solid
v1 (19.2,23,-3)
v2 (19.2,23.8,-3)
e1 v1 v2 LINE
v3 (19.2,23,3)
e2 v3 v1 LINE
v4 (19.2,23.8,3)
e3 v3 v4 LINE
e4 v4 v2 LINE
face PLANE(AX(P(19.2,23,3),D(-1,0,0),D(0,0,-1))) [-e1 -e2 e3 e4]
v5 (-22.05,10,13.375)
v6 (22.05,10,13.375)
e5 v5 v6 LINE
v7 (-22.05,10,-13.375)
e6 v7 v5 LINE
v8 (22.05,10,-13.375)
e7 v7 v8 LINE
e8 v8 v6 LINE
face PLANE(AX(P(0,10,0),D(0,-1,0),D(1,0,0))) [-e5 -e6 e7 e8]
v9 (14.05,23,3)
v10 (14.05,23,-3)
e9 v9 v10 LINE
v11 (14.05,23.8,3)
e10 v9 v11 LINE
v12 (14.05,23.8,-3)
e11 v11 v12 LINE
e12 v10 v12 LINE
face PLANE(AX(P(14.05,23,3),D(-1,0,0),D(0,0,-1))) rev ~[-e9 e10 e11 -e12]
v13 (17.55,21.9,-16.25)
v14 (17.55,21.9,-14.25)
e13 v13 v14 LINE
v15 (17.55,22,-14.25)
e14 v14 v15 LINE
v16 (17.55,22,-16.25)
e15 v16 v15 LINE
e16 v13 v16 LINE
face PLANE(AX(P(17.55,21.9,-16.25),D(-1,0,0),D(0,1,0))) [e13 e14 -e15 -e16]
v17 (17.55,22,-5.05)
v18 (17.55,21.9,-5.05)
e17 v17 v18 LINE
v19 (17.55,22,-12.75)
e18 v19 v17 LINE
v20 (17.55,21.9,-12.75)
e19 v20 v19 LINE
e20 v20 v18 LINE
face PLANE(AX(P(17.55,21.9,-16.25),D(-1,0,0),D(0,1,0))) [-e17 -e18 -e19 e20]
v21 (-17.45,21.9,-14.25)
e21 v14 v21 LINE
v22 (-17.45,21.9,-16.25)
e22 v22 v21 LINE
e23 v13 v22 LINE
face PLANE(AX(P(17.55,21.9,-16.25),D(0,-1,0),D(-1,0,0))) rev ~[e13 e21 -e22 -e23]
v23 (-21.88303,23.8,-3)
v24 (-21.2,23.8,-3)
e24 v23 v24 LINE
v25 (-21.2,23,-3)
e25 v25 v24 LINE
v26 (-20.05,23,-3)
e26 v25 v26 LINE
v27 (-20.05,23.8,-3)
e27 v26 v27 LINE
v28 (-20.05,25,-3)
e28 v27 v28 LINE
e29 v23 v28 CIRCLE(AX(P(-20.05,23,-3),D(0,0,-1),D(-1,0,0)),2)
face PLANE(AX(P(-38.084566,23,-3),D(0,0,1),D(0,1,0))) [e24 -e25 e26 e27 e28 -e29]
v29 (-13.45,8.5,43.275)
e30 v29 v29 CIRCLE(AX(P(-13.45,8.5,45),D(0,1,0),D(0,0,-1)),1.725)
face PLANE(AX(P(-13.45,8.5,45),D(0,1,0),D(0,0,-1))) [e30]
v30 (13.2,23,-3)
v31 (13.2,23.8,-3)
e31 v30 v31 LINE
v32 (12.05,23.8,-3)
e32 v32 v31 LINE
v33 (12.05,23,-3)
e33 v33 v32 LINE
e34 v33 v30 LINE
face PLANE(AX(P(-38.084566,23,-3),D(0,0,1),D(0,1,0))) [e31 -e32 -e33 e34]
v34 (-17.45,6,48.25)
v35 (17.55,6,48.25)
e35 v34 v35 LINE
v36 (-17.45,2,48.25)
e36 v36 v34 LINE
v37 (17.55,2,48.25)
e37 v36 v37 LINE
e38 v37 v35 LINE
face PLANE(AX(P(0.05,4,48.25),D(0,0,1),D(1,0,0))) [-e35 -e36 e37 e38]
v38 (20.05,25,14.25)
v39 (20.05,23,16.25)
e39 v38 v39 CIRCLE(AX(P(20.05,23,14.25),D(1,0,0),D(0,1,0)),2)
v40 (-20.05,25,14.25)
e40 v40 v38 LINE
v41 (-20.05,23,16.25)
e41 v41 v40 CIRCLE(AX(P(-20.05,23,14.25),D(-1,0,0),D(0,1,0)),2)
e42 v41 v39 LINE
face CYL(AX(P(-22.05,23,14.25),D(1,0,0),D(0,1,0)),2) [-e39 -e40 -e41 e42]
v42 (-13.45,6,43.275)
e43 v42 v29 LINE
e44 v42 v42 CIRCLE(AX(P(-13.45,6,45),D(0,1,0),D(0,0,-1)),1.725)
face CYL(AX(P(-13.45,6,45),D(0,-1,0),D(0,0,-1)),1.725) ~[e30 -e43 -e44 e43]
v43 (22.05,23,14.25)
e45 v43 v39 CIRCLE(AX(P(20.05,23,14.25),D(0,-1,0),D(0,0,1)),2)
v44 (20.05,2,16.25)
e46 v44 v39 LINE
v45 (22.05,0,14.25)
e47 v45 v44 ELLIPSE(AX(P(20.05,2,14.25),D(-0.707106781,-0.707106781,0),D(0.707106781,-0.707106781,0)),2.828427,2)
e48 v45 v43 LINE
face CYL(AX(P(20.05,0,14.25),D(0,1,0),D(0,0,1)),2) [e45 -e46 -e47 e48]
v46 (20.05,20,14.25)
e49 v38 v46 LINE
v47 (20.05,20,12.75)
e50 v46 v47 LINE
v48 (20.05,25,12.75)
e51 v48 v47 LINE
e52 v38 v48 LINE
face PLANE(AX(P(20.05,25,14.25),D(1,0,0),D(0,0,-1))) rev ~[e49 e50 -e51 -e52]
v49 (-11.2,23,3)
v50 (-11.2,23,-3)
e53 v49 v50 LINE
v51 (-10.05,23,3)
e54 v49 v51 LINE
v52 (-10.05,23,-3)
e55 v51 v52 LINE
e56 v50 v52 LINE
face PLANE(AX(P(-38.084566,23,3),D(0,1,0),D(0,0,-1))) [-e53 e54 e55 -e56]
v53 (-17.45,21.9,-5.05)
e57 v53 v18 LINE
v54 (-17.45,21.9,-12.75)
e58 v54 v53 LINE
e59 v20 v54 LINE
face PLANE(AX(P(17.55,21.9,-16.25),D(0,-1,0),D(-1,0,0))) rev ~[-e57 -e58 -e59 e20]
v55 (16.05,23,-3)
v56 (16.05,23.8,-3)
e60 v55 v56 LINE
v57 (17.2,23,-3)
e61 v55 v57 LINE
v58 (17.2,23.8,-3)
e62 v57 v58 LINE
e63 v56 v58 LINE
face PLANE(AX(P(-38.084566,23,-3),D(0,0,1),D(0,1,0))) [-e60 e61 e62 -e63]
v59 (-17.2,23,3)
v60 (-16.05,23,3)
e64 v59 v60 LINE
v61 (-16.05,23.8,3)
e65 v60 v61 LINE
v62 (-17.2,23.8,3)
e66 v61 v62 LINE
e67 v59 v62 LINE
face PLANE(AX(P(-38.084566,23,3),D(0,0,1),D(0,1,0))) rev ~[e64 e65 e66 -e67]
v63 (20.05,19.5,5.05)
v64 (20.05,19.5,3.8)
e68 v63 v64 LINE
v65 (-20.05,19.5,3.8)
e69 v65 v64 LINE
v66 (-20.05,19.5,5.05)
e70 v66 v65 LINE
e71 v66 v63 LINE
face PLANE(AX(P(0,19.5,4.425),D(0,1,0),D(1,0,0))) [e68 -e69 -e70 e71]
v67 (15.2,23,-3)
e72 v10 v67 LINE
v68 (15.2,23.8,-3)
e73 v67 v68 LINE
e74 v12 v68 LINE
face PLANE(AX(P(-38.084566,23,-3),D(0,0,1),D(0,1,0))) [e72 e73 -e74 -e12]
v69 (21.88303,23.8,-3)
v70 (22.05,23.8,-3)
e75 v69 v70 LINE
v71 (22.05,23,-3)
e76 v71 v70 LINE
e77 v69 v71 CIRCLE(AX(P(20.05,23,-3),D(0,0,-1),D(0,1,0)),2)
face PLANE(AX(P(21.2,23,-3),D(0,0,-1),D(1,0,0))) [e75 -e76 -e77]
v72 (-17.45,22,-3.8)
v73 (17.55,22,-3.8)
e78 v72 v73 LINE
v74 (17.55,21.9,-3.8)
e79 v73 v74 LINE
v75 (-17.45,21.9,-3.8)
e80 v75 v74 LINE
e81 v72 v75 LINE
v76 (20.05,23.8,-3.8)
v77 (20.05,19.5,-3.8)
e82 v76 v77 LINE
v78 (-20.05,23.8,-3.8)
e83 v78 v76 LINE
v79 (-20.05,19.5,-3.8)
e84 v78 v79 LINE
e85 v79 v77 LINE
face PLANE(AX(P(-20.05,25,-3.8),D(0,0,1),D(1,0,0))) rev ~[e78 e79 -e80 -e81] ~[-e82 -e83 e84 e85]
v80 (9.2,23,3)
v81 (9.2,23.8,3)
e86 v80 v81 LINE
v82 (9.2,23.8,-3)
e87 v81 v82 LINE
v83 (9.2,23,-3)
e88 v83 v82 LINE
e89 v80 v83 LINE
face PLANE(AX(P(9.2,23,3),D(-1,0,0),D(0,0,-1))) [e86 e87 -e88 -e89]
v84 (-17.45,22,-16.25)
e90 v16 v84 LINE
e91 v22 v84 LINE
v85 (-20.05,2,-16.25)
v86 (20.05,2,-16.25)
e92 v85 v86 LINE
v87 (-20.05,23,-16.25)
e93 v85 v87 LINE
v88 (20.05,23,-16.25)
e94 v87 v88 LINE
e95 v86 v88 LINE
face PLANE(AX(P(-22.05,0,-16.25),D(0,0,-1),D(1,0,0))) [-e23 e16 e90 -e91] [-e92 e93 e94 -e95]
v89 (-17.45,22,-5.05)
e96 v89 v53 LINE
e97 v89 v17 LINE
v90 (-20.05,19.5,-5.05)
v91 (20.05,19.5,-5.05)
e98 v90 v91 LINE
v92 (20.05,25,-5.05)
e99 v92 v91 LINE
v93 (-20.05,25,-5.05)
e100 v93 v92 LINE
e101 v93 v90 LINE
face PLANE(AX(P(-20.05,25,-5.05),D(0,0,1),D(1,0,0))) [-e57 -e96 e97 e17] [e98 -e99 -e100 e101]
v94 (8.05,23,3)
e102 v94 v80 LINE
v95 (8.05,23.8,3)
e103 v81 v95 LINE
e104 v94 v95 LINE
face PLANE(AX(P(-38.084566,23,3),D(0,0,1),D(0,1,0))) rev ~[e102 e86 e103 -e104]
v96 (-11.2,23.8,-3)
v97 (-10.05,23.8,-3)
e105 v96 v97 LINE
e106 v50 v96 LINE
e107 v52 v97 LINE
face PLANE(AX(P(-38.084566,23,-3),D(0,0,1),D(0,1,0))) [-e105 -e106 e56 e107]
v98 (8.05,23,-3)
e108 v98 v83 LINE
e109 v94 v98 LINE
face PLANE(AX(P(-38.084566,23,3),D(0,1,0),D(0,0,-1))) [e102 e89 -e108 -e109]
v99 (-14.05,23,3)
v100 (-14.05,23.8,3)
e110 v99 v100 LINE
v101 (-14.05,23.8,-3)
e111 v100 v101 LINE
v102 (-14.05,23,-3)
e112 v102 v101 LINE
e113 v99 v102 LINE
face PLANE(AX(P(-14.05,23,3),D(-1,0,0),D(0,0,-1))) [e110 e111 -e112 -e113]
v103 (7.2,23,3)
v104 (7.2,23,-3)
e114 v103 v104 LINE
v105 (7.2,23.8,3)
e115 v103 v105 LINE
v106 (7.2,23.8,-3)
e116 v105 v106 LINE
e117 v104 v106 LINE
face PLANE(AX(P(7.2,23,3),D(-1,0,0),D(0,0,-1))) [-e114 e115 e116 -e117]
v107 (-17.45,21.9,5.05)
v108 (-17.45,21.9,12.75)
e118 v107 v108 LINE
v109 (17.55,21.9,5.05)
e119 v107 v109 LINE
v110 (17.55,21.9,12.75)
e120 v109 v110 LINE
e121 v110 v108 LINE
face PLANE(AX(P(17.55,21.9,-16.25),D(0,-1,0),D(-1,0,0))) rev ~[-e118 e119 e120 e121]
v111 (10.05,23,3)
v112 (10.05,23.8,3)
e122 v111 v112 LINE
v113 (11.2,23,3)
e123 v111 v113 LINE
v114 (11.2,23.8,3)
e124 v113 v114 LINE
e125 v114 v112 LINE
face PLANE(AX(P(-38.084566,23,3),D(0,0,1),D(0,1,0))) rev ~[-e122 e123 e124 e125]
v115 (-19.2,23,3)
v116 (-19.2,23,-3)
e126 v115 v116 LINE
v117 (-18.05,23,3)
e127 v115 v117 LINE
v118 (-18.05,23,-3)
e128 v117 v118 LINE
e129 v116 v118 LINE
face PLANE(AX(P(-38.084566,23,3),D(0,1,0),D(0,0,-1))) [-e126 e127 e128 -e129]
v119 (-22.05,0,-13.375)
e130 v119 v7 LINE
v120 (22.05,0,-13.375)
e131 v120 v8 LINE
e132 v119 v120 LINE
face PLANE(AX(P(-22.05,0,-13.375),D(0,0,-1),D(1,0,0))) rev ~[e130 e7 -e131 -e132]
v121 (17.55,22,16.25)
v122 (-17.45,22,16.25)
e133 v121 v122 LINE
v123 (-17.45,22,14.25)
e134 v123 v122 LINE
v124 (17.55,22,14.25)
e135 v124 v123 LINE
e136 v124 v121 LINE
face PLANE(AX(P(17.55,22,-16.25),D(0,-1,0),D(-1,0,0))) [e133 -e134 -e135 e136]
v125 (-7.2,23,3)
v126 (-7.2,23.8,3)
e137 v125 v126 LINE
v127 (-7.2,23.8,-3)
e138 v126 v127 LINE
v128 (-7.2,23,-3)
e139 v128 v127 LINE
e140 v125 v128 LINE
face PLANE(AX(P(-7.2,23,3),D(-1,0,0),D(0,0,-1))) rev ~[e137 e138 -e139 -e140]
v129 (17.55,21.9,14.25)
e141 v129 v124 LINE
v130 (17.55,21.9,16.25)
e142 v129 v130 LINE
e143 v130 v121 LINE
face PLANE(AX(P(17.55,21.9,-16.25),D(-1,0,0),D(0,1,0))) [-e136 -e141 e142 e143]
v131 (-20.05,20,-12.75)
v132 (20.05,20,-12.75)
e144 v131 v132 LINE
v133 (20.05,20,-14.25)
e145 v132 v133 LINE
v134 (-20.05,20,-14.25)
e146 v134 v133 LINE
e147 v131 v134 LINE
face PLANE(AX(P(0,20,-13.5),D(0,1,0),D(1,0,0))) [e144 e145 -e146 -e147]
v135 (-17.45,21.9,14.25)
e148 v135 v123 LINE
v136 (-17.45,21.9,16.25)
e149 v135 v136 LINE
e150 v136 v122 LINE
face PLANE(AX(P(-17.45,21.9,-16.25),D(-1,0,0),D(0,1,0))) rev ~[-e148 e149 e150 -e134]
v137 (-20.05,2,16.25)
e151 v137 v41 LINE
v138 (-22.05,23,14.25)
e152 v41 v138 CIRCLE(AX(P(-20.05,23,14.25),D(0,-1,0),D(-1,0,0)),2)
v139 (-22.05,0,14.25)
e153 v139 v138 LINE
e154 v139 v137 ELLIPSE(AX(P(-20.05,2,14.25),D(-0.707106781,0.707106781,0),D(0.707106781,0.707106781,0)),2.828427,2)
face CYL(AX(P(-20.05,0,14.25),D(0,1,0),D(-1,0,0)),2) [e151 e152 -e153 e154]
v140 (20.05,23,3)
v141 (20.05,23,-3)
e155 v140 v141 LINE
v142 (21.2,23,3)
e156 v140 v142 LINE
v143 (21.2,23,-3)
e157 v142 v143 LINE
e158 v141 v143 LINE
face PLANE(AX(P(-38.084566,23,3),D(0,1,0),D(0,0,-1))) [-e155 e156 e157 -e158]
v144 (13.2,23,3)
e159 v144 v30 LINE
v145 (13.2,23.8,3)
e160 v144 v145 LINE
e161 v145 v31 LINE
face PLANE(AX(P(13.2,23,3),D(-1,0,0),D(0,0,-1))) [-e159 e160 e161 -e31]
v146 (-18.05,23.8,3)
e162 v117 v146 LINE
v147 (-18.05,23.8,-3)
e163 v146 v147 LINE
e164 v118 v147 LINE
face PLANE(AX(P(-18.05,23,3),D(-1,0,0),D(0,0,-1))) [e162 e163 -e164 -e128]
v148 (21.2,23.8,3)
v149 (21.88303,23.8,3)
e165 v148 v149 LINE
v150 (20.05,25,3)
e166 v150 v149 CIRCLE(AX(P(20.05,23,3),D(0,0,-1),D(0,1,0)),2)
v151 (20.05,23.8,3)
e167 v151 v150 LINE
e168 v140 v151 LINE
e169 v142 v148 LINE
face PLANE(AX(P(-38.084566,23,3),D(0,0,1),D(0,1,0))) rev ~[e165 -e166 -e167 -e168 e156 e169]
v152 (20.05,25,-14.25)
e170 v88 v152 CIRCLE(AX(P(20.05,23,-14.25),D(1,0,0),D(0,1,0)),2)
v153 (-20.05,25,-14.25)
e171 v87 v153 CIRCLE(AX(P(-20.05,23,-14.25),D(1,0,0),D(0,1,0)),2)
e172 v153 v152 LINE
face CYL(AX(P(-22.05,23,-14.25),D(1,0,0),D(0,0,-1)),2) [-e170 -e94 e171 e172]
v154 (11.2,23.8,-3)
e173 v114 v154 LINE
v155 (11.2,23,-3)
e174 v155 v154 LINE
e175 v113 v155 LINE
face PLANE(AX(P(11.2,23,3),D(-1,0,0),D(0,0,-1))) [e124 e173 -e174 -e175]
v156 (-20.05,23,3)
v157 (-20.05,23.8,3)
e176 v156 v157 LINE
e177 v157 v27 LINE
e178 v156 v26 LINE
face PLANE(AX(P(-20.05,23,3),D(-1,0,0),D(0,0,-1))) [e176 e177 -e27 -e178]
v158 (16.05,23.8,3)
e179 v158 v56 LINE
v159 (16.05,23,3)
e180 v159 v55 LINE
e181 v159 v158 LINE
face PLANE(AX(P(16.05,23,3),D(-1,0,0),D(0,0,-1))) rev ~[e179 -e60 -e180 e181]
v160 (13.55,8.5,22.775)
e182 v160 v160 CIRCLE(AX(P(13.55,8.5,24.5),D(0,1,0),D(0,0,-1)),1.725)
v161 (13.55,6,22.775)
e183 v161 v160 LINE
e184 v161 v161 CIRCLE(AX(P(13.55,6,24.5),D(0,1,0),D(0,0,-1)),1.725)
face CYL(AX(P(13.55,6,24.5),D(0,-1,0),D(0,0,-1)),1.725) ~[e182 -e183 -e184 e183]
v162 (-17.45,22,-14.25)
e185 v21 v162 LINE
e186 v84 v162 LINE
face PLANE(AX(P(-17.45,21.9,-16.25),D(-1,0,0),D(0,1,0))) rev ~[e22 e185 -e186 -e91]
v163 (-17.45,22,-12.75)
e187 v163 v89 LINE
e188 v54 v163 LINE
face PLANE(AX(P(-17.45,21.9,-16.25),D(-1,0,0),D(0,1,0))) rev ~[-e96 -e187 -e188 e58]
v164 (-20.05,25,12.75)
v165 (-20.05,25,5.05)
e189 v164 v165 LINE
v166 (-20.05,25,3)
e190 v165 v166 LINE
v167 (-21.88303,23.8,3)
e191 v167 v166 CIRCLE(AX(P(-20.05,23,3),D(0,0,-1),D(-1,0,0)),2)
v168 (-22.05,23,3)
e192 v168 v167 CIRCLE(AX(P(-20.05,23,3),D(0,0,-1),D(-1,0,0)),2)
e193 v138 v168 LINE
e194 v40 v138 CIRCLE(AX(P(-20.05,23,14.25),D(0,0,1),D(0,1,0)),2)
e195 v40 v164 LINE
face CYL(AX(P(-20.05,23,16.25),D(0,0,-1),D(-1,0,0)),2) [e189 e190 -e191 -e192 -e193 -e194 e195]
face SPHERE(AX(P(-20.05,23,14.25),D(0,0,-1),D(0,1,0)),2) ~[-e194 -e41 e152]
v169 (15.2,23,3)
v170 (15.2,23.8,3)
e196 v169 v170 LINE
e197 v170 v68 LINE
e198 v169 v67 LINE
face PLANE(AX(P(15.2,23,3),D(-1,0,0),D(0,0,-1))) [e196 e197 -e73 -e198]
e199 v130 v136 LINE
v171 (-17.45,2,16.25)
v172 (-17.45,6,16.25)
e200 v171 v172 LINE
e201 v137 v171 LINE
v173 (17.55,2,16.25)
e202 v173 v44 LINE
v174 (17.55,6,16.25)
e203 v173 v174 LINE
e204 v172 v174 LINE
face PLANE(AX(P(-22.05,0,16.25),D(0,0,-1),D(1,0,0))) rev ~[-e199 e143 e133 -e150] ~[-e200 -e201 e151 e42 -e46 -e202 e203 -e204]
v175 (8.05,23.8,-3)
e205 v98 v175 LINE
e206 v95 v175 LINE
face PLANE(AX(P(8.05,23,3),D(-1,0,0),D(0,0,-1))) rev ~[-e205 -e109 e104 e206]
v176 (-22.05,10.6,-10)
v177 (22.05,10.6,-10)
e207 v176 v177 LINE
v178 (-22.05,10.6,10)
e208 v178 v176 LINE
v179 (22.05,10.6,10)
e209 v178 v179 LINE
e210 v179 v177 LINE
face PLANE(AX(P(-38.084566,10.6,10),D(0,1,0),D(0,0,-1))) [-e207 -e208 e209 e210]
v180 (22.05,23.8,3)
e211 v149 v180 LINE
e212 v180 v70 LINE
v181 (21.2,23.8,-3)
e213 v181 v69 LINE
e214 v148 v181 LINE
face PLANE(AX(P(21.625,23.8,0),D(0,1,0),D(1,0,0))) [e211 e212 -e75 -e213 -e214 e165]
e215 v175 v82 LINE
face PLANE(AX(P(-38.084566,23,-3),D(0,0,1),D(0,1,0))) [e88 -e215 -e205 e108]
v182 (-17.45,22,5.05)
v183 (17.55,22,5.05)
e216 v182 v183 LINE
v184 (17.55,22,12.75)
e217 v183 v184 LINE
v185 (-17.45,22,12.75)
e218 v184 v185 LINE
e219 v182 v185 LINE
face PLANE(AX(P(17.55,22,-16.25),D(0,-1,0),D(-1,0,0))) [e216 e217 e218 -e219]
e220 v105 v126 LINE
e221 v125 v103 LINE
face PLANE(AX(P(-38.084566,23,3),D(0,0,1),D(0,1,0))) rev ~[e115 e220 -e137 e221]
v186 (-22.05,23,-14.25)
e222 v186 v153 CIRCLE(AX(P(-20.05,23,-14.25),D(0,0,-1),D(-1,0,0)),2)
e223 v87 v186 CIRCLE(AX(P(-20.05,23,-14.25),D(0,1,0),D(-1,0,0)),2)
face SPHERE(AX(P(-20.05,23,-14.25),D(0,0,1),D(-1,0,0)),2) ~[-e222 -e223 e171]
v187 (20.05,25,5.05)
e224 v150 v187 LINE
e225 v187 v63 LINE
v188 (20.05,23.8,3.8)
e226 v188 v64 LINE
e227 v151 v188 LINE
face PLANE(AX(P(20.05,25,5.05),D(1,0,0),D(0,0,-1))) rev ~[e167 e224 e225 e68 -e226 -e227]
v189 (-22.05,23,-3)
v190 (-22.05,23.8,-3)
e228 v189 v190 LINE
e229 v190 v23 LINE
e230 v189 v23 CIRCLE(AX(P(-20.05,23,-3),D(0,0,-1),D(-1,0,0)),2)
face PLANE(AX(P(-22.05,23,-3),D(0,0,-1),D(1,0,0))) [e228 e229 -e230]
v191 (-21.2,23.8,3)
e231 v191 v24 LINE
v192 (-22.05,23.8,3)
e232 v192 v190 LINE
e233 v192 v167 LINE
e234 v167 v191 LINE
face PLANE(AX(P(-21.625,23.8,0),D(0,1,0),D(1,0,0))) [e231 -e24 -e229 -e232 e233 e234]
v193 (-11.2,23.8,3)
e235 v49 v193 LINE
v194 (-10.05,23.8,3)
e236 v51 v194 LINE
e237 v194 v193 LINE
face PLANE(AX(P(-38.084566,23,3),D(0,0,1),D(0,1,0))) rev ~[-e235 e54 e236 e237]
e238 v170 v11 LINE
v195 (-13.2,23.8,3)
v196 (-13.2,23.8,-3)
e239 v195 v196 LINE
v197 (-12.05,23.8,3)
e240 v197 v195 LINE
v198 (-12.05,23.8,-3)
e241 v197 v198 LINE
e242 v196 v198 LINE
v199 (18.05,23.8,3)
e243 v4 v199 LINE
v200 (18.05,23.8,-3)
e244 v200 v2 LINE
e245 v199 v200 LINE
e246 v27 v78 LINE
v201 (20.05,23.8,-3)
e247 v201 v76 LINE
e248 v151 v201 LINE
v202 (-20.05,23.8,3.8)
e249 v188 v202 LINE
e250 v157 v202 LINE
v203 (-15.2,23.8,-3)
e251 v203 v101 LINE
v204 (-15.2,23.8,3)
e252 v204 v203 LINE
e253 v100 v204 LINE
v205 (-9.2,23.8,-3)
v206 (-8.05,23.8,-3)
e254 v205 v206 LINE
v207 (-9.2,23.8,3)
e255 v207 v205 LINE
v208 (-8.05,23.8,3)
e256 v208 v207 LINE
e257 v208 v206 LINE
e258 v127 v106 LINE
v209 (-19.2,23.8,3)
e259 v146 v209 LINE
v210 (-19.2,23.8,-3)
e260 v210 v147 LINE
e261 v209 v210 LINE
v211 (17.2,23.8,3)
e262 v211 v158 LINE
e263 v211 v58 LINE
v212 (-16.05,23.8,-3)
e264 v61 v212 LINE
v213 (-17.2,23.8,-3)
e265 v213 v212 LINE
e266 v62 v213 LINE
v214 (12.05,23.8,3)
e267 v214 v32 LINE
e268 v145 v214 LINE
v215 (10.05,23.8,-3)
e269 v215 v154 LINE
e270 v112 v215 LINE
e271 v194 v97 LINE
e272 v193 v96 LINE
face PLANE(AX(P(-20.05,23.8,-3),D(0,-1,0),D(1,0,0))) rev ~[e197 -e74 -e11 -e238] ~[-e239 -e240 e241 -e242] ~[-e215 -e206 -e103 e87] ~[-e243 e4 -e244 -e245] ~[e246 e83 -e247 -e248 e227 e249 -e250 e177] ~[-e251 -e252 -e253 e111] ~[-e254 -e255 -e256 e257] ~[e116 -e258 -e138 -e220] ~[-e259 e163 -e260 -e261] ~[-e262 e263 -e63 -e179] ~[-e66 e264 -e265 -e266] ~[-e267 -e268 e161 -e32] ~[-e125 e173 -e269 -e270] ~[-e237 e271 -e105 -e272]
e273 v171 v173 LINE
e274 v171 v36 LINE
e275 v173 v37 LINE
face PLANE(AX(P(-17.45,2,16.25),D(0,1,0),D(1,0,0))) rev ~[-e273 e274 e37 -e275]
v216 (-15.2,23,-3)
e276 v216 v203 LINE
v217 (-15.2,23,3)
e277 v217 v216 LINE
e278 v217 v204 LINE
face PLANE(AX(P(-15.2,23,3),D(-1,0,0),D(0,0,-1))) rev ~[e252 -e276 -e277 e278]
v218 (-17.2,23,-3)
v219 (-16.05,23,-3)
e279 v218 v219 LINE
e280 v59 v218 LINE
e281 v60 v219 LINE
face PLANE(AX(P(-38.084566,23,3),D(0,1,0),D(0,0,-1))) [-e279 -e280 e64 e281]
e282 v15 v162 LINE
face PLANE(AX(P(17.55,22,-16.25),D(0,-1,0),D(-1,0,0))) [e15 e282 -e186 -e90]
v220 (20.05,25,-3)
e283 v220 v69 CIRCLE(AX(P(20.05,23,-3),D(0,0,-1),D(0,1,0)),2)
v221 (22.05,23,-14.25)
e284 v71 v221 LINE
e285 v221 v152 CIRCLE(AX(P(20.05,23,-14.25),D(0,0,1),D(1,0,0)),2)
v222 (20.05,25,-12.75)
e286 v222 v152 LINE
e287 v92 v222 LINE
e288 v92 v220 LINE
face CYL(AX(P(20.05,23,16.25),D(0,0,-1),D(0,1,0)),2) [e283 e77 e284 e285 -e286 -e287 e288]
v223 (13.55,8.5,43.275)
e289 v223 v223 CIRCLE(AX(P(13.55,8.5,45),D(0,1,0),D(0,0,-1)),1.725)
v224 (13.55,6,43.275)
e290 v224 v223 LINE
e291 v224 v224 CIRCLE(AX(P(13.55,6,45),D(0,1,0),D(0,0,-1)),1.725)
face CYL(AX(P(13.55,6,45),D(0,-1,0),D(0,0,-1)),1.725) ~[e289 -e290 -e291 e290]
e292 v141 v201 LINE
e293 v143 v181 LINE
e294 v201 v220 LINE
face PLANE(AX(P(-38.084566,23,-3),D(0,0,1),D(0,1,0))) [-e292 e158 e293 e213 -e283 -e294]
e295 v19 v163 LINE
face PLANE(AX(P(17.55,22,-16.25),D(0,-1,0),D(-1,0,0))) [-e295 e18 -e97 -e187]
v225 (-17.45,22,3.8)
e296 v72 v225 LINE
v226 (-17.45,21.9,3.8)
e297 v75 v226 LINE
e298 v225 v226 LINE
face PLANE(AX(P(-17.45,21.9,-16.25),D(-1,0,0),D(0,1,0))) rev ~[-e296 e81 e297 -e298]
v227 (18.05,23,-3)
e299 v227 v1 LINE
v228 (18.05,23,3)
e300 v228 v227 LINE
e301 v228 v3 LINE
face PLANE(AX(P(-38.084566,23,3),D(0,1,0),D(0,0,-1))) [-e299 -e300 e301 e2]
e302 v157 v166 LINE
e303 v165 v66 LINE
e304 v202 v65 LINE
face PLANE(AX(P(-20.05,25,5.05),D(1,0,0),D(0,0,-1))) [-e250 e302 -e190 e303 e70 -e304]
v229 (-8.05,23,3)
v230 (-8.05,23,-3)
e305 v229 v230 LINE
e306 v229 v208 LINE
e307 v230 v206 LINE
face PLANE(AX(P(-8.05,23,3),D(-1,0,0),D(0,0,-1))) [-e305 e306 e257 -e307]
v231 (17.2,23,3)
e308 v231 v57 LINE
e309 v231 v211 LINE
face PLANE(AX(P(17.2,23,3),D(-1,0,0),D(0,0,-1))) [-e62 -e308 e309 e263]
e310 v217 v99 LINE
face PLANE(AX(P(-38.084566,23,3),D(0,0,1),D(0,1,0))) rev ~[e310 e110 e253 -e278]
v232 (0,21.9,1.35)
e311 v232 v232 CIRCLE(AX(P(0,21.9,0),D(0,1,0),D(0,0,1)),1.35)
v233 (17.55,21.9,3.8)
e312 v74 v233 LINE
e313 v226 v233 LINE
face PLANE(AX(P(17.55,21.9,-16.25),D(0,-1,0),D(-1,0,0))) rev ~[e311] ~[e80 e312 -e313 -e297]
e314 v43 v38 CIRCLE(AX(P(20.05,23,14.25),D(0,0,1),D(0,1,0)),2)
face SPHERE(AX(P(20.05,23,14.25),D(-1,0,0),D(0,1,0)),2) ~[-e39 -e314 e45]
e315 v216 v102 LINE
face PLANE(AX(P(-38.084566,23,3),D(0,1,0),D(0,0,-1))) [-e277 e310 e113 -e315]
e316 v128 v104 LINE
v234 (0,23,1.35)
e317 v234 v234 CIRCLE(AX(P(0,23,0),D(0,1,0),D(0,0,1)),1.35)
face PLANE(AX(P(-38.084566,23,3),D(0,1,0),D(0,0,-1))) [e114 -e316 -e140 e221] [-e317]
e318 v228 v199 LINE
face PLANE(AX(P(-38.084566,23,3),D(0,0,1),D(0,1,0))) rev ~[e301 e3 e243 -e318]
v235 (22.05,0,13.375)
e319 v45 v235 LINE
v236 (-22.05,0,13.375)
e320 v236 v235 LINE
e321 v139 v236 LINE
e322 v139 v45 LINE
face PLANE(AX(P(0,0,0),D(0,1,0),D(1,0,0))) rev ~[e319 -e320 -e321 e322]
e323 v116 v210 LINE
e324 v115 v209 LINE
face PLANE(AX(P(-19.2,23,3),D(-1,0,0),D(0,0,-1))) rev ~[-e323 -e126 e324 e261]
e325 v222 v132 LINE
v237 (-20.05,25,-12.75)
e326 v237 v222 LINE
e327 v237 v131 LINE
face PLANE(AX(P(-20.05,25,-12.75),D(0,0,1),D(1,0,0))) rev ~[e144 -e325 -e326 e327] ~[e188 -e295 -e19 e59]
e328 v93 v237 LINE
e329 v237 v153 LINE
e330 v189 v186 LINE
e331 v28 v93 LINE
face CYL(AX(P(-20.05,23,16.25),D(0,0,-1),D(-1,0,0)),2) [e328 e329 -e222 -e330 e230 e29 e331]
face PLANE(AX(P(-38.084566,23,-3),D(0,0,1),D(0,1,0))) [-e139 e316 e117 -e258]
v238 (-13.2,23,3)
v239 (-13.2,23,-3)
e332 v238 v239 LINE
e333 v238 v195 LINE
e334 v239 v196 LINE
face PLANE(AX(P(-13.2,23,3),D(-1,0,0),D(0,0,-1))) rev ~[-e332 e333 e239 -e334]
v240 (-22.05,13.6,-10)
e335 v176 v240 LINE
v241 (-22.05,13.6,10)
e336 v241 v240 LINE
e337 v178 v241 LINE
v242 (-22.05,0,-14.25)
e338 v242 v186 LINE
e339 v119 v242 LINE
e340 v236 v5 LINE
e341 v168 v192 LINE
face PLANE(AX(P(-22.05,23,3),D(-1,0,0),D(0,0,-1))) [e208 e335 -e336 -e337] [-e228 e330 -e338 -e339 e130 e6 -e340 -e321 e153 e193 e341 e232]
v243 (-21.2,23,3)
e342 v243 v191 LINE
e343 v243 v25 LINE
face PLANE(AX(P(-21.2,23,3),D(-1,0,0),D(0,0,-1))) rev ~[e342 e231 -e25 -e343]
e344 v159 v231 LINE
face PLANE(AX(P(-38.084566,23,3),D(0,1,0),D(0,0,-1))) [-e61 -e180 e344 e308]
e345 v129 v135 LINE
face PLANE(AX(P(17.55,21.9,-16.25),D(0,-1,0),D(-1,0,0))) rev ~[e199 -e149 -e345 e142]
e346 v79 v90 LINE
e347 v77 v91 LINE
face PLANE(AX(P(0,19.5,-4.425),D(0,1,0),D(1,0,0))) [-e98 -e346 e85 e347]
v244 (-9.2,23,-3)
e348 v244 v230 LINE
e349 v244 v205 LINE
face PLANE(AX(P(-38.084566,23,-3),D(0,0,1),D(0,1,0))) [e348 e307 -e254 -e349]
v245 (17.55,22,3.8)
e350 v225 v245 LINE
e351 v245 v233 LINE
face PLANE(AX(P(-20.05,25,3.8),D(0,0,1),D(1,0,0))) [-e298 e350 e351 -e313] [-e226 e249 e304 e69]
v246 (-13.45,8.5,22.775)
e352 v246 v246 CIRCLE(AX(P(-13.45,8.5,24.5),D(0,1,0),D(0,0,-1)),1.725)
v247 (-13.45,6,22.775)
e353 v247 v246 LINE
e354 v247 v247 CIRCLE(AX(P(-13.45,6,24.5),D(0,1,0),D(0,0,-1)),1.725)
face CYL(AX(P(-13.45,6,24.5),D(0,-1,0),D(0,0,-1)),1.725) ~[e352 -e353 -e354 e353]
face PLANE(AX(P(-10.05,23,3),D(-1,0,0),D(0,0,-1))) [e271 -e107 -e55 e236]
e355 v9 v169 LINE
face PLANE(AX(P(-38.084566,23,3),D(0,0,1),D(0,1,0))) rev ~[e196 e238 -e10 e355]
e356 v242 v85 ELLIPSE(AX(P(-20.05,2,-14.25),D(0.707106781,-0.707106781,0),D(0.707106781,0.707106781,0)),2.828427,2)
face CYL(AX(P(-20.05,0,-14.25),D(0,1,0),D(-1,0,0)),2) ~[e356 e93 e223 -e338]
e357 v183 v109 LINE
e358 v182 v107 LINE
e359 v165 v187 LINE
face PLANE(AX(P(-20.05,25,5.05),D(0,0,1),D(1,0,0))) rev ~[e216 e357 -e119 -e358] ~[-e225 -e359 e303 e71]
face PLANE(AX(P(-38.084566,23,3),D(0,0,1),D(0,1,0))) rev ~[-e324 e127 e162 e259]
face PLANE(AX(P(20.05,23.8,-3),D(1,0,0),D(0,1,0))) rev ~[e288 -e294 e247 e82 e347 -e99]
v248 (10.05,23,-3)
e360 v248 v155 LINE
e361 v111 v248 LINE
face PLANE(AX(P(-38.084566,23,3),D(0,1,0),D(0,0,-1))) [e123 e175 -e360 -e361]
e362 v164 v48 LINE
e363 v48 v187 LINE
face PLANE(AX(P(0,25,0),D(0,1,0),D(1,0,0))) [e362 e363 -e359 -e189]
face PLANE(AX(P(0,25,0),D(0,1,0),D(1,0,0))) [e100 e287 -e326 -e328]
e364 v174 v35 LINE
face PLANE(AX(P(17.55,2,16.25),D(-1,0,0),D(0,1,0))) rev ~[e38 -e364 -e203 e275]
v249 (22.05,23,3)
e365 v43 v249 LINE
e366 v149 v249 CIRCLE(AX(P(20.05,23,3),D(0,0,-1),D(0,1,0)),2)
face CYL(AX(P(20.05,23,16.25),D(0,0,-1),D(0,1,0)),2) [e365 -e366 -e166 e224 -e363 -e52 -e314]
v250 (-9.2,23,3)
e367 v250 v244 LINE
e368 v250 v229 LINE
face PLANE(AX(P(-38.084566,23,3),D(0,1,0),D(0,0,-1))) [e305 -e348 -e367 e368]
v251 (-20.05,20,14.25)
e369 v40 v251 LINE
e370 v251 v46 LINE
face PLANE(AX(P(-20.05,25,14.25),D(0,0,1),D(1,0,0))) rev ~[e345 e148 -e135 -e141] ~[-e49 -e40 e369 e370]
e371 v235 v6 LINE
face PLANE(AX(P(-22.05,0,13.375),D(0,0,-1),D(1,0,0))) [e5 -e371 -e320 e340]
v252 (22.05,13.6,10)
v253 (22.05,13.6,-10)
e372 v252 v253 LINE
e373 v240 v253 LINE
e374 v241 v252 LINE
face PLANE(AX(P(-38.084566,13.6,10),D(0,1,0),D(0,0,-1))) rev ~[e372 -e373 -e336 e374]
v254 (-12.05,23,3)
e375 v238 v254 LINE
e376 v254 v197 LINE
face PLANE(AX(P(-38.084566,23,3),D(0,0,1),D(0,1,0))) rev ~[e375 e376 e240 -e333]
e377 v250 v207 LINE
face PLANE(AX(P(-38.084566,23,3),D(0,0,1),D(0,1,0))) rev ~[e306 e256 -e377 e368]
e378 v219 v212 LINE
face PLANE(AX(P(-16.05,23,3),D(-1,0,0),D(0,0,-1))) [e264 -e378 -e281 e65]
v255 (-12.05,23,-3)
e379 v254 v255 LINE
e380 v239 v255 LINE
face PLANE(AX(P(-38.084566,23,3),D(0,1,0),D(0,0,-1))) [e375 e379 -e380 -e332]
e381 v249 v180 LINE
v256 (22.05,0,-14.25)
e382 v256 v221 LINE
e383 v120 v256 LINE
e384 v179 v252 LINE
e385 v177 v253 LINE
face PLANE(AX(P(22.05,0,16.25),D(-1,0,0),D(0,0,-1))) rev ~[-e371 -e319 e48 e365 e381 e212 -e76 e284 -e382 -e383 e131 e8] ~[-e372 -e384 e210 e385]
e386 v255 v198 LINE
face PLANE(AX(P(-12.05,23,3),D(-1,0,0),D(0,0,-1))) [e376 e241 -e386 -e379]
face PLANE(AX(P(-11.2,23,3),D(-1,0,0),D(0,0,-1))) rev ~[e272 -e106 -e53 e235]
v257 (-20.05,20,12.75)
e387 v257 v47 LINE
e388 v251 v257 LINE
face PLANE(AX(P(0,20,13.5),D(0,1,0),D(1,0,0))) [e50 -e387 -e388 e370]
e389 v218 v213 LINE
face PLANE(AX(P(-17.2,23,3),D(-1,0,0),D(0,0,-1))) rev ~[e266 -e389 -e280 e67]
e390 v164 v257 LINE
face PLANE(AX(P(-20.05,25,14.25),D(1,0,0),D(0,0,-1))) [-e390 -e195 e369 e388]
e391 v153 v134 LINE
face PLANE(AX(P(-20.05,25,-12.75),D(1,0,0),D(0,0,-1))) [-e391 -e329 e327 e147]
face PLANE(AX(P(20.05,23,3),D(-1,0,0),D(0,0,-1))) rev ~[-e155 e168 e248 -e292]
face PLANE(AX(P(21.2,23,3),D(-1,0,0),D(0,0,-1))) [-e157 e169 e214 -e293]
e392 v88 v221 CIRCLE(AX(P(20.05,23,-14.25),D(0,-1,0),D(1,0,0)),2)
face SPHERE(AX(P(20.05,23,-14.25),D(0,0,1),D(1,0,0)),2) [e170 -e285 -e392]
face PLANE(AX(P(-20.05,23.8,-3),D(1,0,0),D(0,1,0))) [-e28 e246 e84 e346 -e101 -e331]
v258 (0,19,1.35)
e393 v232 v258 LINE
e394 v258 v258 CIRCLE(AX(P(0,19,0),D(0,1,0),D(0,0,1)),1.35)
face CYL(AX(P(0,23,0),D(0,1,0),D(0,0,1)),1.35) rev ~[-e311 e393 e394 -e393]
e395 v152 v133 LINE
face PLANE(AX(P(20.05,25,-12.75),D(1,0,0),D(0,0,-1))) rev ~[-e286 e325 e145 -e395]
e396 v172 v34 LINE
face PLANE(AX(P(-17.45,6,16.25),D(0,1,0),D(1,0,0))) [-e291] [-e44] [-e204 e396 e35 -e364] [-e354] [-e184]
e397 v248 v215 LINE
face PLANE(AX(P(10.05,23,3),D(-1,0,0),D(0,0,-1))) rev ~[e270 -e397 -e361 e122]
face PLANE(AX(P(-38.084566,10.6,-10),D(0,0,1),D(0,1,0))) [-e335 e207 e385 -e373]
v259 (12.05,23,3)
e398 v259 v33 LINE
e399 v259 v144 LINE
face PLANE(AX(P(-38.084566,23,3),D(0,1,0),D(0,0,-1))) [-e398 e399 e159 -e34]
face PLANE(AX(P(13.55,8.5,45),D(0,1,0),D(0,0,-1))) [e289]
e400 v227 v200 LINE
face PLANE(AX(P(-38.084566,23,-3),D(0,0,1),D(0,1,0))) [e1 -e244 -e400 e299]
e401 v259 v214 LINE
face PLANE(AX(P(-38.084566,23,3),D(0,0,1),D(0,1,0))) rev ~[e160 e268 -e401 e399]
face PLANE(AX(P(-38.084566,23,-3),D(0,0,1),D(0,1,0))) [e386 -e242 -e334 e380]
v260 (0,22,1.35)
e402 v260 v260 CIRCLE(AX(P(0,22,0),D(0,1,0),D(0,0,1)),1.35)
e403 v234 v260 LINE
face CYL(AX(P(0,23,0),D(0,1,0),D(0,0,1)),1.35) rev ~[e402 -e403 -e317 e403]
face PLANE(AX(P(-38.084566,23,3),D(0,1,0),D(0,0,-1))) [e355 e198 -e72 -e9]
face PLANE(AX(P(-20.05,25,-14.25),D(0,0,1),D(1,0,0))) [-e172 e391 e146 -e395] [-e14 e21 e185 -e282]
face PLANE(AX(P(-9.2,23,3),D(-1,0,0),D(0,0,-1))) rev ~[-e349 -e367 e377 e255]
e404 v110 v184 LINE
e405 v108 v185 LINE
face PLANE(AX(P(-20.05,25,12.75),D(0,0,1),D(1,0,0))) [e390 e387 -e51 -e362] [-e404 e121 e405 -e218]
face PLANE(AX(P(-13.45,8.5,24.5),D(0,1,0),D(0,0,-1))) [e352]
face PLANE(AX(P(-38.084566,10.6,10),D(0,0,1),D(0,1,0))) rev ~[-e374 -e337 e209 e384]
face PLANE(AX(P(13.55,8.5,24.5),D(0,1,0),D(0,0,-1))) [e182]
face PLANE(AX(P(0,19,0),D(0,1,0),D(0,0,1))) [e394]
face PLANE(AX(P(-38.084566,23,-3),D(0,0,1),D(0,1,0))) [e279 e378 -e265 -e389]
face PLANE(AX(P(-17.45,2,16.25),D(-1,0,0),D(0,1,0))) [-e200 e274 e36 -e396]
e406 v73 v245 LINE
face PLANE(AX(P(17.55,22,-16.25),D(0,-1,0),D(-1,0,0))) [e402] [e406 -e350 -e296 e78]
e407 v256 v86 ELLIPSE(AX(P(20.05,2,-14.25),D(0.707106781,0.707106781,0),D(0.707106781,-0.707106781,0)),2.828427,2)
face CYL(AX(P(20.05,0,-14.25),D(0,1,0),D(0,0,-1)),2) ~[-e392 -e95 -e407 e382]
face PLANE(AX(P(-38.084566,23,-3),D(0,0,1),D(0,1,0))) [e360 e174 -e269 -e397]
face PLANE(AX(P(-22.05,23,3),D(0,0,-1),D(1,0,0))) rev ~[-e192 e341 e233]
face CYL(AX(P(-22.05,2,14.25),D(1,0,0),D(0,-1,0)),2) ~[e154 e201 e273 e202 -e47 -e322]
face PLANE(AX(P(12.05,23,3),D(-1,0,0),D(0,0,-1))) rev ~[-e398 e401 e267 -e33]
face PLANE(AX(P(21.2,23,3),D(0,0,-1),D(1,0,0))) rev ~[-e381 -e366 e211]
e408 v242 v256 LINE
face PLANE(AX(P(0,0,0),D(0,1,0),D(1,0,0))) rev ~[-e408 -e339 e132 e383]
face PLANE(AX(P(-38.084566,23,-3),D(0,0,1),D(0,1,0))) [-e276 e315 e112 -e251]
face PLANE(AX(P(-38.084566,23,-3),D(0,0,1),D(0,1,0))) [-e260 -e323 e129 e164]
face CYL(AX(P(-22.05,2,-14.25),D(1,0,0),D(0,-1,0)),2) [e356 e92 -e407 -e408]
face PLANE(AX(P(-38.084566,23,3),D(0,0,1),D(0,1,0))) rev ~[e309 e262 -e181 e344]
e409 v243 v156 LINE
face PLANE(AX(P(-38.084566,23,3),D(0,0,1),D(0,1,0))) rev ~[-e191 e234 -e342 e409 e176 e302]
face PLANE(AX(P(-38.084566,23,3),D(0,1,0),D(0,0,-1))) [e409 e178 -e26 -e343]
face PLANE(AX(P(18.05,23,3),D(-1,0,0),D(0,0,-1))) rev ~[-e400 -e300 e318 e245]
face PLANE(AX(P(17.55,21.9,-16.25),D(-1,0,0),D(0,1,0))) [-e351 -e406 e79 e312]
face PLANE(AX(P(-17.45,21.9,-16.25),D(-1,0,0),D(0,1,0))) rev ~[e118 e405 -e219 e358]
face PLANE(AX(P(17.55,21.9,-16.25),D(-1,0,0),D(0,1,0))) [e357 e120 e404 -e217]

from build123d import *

# Parameters (mm, degrees)
SKETCH1_W               = 44.1
SKETCH1_H               = 32.5
BOSS_EXTRUDE1_DEPTH     = 25
SKETCH2_W               = 44.1
SKETCH2_H               = 26.75
CUT_EXTRUDE1_DEPTH      = 10
FILLET1_R               = 2
CUT_EXTRUDE2_DEPTH      = 38.084565523
CUT_EXTRUDE2_DEPTH_BACK = 38.084565523
SKETCH6_W               = 20
SKETCH6_H               = 3
SKETCH6_W_2             = 6
SKETCH6_H_2             = 2
SKETCH7_W               = 40.1
SKETCH7_H               = 1.25
CUT_EXTRUDE3_DEPTH      = 5.5
SKETCH8_W               = 0.85
SKETCH8_H               = 6
BOSS_EXTRUDE3_DEPTH     = 0.8
SKETCH9_R               = 1.35
CUT_EXTRUDE4_DEPTH      = 4
SKETCH11_W              = 40.1
SKETCH11_H              = 1.2
CUT_EXTRUDE5_DEPTH      = 0.8
SKETCH12_W              = 40.1
SKETCH12_H              = 1.2
CUT_EXTRUDE6_DEPTH      = 0.8
SKETCH13_W              = 35
SKETCH13_H              = 0.1
CUT_EXTRUDE8_DEPTH      = 47.555907251
SKETCH14_W              = 35
SKETCH14_H              = 4
BOSS_EXTRUDE4_DEPTH     = 32
SKETCH15_R              = 1.725
BOSS_EXTRUDE5_DEPTH     = 2.5
SKETCH16_W              = 40.1
SKETCH16_H              = 1.5
CUT_EXTRUDE9_DEPTH      = 5


with BuildPart() as part:
    # Sketch1 → Boss-Extrude1 (new body)
    with BuildSketch(Plane(origin=(0, 0, 0), x_dir=(1, 0, 0), z_dir=(0, 1, 0))):
        Rectangle(SKETCH1_W, SKETCH1_H)
    extrude(amount=BOSS_EXTRUDE1_DEPTH)

    # Sketch2 → Cut-Extrude1 (cut)
    with BuildSketch(Plane.XZ):
        Rectangle(SKETCH2_W, SKETCH2_H)
    extrude(amount=-CUT_EXTRUDE1_DEPTH, mode=Mode.SUBTRACT)

    # Fillet1
    fillet1_edges = [part.edges().sort_by_distance(p)[0] for p in [
        (-22.05, 25, 0),
        (0, 25, 16.25),
        (22.05, 25, 0),
        (0, 0, 16.25),
        (0, 0, -16.25),
        (22.05, 12.5, 16.25),
        (-22.05, 12.5, 16.25),
        (-22.05, 12.5, -16.25),
        (22.05, 12.5, -16.25),
        (0, 25, -16.25),
    ]]
    fillet(fillet1_edges, radius=FILLET1_R)

    # Sketch6 → Cut-Extrude2 (cut, two sides: drawn at the far end of the back side and taken through both)
    with BuildSketch(Plane(origin=(0, 0, 0), x_dir=(0, 0, -1), z_dir=(1, 0, 0)).offset(-CUT_EXTRUDE2_DEPTH_BACK)):
        with Locations((0, 12.1)):
            Rectangle(SKETCH6_W, SKETCH6_H)
        with Locations((0, 24)):
            Rectangle(SKETCH6_W_2, SKETCH6_H_2)
    extrude(amount=CUT_EXTRUDE2_DEPTH + CUT_EXTRUDE2_DEPTH_BACK, mode=Mode.SUBTRACT)

    # Sketch7 → Cut-Extrude3 (cut)
    with BuildSketch(Plane(origin=(0, 25, 0), x_dir=(1, 0, 0), z_dir=(0, 1, 0))):
        with Locations((0, 4.425)):
            Rectangle(SKETCH7_W, SKETCH7_H)
        with Locations((0, -4.425)):
            Rectangle(SKETCH7_W, SKETCH7_H)
    extrude(amount=-CUT_EXTRUDE3_DEPTH, mode=Mode.SUBTRACT)

    # Sketch8 → Boss-Extrude3 (add)
    with BuildSketch(Plane(origin=(0, 23, 0), x_dir=(1, 0, 0), z_dir=(0, 1, 0))):
        with Locations((-21.625, 0)):
            Rectangle(SKETCH8_W, SKETCH8_H)
        with Locations((21.625, 0)):
            Rectangle(SKETCH8_W, SKETCH8_H)
        with Locations((-19.625, 0)):
            Rectangle(SKETCH8_W, SKETCH8_H)
        with Locations((19.625, 0)):
            Rectangle(SKETCH8_W, SKETCH8_H)
        with Locations((-17.625, 0)):
            Rectangle(SKETCH8_W, SKETCH8_H)
        with Locations((17.625, 0)):
            Rectangle(SKETCH8_W, SKETCH8_H)
        with Locations((15.625, 0)):
            Rectangle(SKETCH8_W, SKETCH8_H)
        with Locations((-15.625, 0)):
            Rectangle(SKETCH8_W, SKETCH8_H)
        with Locations((13.625, 0)):
            Rectangle(SKETCH8_W, SKETCH8_H)
        with Locations((-13.625, 0)):
            Rectangle(SKETCH8_W, SKETCH8_H)
        with Locations((11.625, 0)):
            Rectangle(SKETCH8_W, SKETCH8_H)
        with Locations((-11.625, 0)):
            Rectangle(SKETCH8_W, SKETCH8_H)
        with Locations((9.625, 0)):
            Rectangle(SKETCH8_W, SKETCH8_H)
        with Locations((-9.625, 0)):
            Rectangle(SKETCH8_W, SKETCH8_H)
        with Locations((7.625, 0)):
            Rectangle(SKETCH8_W, SKETCH8_H)
        with Locations((-7.625, 0)):
            Rectangle(SKETCH8_W, SKETCH8_H)
    extrude(amount=BOSS_EXTRUDE3_DEPTH)

    # Sketch9 → Cut-Extrude4 (cut)
    with BuildSketch(Plane(origin=(0, 23, 0), x_dir=(1, 0, 0), z_dir=(0, 1, 0))):
        with Locations(Location((0, 0, 0), (0, 0, 270))):
            Circle(SKETCH9_R)
    extrude(amount=-CUT_EXTRUDE4_DEPTH, mode=Mode.SUBTRACT)

    # Sketch11 → Cut-Extrude5 (cut)
    with BuildSketch(Plane(origin=(0, 0, 3), x_dir=(-1, 0, 0), z_dir=(0, 0, -1))):
        with Locations((0, 24.4)):
            Rectangle(SKETCH11_W, SKETCH11_H)
    extrude(amount=-CUT_EXTRUDE5_DEPTH, mode=Mode.SUBTRACT)

    # Sketch12 → Cut-Extrude6 (cut)
    with BuildSketch(Plane.XY.offset(-3)):
        with Locations((0, 24.4)):
            Rectangle(SKETCH12_W, SKETCH12_H)
    extrude(amount=-CUT_EXTRUDE6_DEPTH, mode=Mode.SUBTRACT)

    # Sketch13 → Cut-Extrude8 (cut, through all)
    with BuildSketch(Plane(origin=(0, 0, -16.25), x_dir=(-1, 0, 0), z_dir=(0, 0, -1))):
        with Locations((-0.05, 21.95)):
            Rectangle(SKETCH13_W, SKETCH13_H)
    extrude(amount=-CUT_EXTRUDE8_DEPTH, mode=Mode.SUBTRACT)

    # Sketch14 → Boss-Extrude4 (add)
    with BuildSketch(Plane.XY.offset(16.25)):
        with Locations((0.05, 4)):
            Rectangle(SKETCH14_W, SKETCH14_H)
    extrude(amount=BOSS_EXTRUDE4_DEPTH)

    # Sketch15 → Boss-Extrude5 (add)
    with BuildSketch(Plane(origin=(0, 6, 0), x_dir=(1, 0, 0), z_dir=(0, 1, 0))):
        with Locations(Location((-13.45, -24.5, 0), (0, 0, 90))):
            Circle(SKETCH15_R)
        with Locations(Location((13.55, -24.5, 0), (0, 0, 90))):
            Circle(SKETCH15_R)
        with Locations(Location((13.55, -45, 0), (0, 0, 90))):
            Circle(SKETCH15_R)
        with Locations(Location((-13.45, -45, 0), (0, 0, 90))):
            Circle(SKETCH15_R)
    extrude(amount=BOSS_EXTRUDE5_DEPTH)

    # Sketch16 → Cut-Extrude9 (cut)
    with BuildSketch(Plane(origin=(0, 25, 0), x_dir=(1, 0, 0), z_dir=(0, 1, 0))):
        with Locations((0, 13.5)):
            Rectangle(SKETCH16_W, SKETCH16_H)
        with Locations((0, -13.5)):
            Rectangle(SKETCH16_W, SKETCH16_H)
    extrude(amount=-CUT_EXTRUDE9_DEPTH, mode=Mode.SUBTRACT)


solid = part.part
